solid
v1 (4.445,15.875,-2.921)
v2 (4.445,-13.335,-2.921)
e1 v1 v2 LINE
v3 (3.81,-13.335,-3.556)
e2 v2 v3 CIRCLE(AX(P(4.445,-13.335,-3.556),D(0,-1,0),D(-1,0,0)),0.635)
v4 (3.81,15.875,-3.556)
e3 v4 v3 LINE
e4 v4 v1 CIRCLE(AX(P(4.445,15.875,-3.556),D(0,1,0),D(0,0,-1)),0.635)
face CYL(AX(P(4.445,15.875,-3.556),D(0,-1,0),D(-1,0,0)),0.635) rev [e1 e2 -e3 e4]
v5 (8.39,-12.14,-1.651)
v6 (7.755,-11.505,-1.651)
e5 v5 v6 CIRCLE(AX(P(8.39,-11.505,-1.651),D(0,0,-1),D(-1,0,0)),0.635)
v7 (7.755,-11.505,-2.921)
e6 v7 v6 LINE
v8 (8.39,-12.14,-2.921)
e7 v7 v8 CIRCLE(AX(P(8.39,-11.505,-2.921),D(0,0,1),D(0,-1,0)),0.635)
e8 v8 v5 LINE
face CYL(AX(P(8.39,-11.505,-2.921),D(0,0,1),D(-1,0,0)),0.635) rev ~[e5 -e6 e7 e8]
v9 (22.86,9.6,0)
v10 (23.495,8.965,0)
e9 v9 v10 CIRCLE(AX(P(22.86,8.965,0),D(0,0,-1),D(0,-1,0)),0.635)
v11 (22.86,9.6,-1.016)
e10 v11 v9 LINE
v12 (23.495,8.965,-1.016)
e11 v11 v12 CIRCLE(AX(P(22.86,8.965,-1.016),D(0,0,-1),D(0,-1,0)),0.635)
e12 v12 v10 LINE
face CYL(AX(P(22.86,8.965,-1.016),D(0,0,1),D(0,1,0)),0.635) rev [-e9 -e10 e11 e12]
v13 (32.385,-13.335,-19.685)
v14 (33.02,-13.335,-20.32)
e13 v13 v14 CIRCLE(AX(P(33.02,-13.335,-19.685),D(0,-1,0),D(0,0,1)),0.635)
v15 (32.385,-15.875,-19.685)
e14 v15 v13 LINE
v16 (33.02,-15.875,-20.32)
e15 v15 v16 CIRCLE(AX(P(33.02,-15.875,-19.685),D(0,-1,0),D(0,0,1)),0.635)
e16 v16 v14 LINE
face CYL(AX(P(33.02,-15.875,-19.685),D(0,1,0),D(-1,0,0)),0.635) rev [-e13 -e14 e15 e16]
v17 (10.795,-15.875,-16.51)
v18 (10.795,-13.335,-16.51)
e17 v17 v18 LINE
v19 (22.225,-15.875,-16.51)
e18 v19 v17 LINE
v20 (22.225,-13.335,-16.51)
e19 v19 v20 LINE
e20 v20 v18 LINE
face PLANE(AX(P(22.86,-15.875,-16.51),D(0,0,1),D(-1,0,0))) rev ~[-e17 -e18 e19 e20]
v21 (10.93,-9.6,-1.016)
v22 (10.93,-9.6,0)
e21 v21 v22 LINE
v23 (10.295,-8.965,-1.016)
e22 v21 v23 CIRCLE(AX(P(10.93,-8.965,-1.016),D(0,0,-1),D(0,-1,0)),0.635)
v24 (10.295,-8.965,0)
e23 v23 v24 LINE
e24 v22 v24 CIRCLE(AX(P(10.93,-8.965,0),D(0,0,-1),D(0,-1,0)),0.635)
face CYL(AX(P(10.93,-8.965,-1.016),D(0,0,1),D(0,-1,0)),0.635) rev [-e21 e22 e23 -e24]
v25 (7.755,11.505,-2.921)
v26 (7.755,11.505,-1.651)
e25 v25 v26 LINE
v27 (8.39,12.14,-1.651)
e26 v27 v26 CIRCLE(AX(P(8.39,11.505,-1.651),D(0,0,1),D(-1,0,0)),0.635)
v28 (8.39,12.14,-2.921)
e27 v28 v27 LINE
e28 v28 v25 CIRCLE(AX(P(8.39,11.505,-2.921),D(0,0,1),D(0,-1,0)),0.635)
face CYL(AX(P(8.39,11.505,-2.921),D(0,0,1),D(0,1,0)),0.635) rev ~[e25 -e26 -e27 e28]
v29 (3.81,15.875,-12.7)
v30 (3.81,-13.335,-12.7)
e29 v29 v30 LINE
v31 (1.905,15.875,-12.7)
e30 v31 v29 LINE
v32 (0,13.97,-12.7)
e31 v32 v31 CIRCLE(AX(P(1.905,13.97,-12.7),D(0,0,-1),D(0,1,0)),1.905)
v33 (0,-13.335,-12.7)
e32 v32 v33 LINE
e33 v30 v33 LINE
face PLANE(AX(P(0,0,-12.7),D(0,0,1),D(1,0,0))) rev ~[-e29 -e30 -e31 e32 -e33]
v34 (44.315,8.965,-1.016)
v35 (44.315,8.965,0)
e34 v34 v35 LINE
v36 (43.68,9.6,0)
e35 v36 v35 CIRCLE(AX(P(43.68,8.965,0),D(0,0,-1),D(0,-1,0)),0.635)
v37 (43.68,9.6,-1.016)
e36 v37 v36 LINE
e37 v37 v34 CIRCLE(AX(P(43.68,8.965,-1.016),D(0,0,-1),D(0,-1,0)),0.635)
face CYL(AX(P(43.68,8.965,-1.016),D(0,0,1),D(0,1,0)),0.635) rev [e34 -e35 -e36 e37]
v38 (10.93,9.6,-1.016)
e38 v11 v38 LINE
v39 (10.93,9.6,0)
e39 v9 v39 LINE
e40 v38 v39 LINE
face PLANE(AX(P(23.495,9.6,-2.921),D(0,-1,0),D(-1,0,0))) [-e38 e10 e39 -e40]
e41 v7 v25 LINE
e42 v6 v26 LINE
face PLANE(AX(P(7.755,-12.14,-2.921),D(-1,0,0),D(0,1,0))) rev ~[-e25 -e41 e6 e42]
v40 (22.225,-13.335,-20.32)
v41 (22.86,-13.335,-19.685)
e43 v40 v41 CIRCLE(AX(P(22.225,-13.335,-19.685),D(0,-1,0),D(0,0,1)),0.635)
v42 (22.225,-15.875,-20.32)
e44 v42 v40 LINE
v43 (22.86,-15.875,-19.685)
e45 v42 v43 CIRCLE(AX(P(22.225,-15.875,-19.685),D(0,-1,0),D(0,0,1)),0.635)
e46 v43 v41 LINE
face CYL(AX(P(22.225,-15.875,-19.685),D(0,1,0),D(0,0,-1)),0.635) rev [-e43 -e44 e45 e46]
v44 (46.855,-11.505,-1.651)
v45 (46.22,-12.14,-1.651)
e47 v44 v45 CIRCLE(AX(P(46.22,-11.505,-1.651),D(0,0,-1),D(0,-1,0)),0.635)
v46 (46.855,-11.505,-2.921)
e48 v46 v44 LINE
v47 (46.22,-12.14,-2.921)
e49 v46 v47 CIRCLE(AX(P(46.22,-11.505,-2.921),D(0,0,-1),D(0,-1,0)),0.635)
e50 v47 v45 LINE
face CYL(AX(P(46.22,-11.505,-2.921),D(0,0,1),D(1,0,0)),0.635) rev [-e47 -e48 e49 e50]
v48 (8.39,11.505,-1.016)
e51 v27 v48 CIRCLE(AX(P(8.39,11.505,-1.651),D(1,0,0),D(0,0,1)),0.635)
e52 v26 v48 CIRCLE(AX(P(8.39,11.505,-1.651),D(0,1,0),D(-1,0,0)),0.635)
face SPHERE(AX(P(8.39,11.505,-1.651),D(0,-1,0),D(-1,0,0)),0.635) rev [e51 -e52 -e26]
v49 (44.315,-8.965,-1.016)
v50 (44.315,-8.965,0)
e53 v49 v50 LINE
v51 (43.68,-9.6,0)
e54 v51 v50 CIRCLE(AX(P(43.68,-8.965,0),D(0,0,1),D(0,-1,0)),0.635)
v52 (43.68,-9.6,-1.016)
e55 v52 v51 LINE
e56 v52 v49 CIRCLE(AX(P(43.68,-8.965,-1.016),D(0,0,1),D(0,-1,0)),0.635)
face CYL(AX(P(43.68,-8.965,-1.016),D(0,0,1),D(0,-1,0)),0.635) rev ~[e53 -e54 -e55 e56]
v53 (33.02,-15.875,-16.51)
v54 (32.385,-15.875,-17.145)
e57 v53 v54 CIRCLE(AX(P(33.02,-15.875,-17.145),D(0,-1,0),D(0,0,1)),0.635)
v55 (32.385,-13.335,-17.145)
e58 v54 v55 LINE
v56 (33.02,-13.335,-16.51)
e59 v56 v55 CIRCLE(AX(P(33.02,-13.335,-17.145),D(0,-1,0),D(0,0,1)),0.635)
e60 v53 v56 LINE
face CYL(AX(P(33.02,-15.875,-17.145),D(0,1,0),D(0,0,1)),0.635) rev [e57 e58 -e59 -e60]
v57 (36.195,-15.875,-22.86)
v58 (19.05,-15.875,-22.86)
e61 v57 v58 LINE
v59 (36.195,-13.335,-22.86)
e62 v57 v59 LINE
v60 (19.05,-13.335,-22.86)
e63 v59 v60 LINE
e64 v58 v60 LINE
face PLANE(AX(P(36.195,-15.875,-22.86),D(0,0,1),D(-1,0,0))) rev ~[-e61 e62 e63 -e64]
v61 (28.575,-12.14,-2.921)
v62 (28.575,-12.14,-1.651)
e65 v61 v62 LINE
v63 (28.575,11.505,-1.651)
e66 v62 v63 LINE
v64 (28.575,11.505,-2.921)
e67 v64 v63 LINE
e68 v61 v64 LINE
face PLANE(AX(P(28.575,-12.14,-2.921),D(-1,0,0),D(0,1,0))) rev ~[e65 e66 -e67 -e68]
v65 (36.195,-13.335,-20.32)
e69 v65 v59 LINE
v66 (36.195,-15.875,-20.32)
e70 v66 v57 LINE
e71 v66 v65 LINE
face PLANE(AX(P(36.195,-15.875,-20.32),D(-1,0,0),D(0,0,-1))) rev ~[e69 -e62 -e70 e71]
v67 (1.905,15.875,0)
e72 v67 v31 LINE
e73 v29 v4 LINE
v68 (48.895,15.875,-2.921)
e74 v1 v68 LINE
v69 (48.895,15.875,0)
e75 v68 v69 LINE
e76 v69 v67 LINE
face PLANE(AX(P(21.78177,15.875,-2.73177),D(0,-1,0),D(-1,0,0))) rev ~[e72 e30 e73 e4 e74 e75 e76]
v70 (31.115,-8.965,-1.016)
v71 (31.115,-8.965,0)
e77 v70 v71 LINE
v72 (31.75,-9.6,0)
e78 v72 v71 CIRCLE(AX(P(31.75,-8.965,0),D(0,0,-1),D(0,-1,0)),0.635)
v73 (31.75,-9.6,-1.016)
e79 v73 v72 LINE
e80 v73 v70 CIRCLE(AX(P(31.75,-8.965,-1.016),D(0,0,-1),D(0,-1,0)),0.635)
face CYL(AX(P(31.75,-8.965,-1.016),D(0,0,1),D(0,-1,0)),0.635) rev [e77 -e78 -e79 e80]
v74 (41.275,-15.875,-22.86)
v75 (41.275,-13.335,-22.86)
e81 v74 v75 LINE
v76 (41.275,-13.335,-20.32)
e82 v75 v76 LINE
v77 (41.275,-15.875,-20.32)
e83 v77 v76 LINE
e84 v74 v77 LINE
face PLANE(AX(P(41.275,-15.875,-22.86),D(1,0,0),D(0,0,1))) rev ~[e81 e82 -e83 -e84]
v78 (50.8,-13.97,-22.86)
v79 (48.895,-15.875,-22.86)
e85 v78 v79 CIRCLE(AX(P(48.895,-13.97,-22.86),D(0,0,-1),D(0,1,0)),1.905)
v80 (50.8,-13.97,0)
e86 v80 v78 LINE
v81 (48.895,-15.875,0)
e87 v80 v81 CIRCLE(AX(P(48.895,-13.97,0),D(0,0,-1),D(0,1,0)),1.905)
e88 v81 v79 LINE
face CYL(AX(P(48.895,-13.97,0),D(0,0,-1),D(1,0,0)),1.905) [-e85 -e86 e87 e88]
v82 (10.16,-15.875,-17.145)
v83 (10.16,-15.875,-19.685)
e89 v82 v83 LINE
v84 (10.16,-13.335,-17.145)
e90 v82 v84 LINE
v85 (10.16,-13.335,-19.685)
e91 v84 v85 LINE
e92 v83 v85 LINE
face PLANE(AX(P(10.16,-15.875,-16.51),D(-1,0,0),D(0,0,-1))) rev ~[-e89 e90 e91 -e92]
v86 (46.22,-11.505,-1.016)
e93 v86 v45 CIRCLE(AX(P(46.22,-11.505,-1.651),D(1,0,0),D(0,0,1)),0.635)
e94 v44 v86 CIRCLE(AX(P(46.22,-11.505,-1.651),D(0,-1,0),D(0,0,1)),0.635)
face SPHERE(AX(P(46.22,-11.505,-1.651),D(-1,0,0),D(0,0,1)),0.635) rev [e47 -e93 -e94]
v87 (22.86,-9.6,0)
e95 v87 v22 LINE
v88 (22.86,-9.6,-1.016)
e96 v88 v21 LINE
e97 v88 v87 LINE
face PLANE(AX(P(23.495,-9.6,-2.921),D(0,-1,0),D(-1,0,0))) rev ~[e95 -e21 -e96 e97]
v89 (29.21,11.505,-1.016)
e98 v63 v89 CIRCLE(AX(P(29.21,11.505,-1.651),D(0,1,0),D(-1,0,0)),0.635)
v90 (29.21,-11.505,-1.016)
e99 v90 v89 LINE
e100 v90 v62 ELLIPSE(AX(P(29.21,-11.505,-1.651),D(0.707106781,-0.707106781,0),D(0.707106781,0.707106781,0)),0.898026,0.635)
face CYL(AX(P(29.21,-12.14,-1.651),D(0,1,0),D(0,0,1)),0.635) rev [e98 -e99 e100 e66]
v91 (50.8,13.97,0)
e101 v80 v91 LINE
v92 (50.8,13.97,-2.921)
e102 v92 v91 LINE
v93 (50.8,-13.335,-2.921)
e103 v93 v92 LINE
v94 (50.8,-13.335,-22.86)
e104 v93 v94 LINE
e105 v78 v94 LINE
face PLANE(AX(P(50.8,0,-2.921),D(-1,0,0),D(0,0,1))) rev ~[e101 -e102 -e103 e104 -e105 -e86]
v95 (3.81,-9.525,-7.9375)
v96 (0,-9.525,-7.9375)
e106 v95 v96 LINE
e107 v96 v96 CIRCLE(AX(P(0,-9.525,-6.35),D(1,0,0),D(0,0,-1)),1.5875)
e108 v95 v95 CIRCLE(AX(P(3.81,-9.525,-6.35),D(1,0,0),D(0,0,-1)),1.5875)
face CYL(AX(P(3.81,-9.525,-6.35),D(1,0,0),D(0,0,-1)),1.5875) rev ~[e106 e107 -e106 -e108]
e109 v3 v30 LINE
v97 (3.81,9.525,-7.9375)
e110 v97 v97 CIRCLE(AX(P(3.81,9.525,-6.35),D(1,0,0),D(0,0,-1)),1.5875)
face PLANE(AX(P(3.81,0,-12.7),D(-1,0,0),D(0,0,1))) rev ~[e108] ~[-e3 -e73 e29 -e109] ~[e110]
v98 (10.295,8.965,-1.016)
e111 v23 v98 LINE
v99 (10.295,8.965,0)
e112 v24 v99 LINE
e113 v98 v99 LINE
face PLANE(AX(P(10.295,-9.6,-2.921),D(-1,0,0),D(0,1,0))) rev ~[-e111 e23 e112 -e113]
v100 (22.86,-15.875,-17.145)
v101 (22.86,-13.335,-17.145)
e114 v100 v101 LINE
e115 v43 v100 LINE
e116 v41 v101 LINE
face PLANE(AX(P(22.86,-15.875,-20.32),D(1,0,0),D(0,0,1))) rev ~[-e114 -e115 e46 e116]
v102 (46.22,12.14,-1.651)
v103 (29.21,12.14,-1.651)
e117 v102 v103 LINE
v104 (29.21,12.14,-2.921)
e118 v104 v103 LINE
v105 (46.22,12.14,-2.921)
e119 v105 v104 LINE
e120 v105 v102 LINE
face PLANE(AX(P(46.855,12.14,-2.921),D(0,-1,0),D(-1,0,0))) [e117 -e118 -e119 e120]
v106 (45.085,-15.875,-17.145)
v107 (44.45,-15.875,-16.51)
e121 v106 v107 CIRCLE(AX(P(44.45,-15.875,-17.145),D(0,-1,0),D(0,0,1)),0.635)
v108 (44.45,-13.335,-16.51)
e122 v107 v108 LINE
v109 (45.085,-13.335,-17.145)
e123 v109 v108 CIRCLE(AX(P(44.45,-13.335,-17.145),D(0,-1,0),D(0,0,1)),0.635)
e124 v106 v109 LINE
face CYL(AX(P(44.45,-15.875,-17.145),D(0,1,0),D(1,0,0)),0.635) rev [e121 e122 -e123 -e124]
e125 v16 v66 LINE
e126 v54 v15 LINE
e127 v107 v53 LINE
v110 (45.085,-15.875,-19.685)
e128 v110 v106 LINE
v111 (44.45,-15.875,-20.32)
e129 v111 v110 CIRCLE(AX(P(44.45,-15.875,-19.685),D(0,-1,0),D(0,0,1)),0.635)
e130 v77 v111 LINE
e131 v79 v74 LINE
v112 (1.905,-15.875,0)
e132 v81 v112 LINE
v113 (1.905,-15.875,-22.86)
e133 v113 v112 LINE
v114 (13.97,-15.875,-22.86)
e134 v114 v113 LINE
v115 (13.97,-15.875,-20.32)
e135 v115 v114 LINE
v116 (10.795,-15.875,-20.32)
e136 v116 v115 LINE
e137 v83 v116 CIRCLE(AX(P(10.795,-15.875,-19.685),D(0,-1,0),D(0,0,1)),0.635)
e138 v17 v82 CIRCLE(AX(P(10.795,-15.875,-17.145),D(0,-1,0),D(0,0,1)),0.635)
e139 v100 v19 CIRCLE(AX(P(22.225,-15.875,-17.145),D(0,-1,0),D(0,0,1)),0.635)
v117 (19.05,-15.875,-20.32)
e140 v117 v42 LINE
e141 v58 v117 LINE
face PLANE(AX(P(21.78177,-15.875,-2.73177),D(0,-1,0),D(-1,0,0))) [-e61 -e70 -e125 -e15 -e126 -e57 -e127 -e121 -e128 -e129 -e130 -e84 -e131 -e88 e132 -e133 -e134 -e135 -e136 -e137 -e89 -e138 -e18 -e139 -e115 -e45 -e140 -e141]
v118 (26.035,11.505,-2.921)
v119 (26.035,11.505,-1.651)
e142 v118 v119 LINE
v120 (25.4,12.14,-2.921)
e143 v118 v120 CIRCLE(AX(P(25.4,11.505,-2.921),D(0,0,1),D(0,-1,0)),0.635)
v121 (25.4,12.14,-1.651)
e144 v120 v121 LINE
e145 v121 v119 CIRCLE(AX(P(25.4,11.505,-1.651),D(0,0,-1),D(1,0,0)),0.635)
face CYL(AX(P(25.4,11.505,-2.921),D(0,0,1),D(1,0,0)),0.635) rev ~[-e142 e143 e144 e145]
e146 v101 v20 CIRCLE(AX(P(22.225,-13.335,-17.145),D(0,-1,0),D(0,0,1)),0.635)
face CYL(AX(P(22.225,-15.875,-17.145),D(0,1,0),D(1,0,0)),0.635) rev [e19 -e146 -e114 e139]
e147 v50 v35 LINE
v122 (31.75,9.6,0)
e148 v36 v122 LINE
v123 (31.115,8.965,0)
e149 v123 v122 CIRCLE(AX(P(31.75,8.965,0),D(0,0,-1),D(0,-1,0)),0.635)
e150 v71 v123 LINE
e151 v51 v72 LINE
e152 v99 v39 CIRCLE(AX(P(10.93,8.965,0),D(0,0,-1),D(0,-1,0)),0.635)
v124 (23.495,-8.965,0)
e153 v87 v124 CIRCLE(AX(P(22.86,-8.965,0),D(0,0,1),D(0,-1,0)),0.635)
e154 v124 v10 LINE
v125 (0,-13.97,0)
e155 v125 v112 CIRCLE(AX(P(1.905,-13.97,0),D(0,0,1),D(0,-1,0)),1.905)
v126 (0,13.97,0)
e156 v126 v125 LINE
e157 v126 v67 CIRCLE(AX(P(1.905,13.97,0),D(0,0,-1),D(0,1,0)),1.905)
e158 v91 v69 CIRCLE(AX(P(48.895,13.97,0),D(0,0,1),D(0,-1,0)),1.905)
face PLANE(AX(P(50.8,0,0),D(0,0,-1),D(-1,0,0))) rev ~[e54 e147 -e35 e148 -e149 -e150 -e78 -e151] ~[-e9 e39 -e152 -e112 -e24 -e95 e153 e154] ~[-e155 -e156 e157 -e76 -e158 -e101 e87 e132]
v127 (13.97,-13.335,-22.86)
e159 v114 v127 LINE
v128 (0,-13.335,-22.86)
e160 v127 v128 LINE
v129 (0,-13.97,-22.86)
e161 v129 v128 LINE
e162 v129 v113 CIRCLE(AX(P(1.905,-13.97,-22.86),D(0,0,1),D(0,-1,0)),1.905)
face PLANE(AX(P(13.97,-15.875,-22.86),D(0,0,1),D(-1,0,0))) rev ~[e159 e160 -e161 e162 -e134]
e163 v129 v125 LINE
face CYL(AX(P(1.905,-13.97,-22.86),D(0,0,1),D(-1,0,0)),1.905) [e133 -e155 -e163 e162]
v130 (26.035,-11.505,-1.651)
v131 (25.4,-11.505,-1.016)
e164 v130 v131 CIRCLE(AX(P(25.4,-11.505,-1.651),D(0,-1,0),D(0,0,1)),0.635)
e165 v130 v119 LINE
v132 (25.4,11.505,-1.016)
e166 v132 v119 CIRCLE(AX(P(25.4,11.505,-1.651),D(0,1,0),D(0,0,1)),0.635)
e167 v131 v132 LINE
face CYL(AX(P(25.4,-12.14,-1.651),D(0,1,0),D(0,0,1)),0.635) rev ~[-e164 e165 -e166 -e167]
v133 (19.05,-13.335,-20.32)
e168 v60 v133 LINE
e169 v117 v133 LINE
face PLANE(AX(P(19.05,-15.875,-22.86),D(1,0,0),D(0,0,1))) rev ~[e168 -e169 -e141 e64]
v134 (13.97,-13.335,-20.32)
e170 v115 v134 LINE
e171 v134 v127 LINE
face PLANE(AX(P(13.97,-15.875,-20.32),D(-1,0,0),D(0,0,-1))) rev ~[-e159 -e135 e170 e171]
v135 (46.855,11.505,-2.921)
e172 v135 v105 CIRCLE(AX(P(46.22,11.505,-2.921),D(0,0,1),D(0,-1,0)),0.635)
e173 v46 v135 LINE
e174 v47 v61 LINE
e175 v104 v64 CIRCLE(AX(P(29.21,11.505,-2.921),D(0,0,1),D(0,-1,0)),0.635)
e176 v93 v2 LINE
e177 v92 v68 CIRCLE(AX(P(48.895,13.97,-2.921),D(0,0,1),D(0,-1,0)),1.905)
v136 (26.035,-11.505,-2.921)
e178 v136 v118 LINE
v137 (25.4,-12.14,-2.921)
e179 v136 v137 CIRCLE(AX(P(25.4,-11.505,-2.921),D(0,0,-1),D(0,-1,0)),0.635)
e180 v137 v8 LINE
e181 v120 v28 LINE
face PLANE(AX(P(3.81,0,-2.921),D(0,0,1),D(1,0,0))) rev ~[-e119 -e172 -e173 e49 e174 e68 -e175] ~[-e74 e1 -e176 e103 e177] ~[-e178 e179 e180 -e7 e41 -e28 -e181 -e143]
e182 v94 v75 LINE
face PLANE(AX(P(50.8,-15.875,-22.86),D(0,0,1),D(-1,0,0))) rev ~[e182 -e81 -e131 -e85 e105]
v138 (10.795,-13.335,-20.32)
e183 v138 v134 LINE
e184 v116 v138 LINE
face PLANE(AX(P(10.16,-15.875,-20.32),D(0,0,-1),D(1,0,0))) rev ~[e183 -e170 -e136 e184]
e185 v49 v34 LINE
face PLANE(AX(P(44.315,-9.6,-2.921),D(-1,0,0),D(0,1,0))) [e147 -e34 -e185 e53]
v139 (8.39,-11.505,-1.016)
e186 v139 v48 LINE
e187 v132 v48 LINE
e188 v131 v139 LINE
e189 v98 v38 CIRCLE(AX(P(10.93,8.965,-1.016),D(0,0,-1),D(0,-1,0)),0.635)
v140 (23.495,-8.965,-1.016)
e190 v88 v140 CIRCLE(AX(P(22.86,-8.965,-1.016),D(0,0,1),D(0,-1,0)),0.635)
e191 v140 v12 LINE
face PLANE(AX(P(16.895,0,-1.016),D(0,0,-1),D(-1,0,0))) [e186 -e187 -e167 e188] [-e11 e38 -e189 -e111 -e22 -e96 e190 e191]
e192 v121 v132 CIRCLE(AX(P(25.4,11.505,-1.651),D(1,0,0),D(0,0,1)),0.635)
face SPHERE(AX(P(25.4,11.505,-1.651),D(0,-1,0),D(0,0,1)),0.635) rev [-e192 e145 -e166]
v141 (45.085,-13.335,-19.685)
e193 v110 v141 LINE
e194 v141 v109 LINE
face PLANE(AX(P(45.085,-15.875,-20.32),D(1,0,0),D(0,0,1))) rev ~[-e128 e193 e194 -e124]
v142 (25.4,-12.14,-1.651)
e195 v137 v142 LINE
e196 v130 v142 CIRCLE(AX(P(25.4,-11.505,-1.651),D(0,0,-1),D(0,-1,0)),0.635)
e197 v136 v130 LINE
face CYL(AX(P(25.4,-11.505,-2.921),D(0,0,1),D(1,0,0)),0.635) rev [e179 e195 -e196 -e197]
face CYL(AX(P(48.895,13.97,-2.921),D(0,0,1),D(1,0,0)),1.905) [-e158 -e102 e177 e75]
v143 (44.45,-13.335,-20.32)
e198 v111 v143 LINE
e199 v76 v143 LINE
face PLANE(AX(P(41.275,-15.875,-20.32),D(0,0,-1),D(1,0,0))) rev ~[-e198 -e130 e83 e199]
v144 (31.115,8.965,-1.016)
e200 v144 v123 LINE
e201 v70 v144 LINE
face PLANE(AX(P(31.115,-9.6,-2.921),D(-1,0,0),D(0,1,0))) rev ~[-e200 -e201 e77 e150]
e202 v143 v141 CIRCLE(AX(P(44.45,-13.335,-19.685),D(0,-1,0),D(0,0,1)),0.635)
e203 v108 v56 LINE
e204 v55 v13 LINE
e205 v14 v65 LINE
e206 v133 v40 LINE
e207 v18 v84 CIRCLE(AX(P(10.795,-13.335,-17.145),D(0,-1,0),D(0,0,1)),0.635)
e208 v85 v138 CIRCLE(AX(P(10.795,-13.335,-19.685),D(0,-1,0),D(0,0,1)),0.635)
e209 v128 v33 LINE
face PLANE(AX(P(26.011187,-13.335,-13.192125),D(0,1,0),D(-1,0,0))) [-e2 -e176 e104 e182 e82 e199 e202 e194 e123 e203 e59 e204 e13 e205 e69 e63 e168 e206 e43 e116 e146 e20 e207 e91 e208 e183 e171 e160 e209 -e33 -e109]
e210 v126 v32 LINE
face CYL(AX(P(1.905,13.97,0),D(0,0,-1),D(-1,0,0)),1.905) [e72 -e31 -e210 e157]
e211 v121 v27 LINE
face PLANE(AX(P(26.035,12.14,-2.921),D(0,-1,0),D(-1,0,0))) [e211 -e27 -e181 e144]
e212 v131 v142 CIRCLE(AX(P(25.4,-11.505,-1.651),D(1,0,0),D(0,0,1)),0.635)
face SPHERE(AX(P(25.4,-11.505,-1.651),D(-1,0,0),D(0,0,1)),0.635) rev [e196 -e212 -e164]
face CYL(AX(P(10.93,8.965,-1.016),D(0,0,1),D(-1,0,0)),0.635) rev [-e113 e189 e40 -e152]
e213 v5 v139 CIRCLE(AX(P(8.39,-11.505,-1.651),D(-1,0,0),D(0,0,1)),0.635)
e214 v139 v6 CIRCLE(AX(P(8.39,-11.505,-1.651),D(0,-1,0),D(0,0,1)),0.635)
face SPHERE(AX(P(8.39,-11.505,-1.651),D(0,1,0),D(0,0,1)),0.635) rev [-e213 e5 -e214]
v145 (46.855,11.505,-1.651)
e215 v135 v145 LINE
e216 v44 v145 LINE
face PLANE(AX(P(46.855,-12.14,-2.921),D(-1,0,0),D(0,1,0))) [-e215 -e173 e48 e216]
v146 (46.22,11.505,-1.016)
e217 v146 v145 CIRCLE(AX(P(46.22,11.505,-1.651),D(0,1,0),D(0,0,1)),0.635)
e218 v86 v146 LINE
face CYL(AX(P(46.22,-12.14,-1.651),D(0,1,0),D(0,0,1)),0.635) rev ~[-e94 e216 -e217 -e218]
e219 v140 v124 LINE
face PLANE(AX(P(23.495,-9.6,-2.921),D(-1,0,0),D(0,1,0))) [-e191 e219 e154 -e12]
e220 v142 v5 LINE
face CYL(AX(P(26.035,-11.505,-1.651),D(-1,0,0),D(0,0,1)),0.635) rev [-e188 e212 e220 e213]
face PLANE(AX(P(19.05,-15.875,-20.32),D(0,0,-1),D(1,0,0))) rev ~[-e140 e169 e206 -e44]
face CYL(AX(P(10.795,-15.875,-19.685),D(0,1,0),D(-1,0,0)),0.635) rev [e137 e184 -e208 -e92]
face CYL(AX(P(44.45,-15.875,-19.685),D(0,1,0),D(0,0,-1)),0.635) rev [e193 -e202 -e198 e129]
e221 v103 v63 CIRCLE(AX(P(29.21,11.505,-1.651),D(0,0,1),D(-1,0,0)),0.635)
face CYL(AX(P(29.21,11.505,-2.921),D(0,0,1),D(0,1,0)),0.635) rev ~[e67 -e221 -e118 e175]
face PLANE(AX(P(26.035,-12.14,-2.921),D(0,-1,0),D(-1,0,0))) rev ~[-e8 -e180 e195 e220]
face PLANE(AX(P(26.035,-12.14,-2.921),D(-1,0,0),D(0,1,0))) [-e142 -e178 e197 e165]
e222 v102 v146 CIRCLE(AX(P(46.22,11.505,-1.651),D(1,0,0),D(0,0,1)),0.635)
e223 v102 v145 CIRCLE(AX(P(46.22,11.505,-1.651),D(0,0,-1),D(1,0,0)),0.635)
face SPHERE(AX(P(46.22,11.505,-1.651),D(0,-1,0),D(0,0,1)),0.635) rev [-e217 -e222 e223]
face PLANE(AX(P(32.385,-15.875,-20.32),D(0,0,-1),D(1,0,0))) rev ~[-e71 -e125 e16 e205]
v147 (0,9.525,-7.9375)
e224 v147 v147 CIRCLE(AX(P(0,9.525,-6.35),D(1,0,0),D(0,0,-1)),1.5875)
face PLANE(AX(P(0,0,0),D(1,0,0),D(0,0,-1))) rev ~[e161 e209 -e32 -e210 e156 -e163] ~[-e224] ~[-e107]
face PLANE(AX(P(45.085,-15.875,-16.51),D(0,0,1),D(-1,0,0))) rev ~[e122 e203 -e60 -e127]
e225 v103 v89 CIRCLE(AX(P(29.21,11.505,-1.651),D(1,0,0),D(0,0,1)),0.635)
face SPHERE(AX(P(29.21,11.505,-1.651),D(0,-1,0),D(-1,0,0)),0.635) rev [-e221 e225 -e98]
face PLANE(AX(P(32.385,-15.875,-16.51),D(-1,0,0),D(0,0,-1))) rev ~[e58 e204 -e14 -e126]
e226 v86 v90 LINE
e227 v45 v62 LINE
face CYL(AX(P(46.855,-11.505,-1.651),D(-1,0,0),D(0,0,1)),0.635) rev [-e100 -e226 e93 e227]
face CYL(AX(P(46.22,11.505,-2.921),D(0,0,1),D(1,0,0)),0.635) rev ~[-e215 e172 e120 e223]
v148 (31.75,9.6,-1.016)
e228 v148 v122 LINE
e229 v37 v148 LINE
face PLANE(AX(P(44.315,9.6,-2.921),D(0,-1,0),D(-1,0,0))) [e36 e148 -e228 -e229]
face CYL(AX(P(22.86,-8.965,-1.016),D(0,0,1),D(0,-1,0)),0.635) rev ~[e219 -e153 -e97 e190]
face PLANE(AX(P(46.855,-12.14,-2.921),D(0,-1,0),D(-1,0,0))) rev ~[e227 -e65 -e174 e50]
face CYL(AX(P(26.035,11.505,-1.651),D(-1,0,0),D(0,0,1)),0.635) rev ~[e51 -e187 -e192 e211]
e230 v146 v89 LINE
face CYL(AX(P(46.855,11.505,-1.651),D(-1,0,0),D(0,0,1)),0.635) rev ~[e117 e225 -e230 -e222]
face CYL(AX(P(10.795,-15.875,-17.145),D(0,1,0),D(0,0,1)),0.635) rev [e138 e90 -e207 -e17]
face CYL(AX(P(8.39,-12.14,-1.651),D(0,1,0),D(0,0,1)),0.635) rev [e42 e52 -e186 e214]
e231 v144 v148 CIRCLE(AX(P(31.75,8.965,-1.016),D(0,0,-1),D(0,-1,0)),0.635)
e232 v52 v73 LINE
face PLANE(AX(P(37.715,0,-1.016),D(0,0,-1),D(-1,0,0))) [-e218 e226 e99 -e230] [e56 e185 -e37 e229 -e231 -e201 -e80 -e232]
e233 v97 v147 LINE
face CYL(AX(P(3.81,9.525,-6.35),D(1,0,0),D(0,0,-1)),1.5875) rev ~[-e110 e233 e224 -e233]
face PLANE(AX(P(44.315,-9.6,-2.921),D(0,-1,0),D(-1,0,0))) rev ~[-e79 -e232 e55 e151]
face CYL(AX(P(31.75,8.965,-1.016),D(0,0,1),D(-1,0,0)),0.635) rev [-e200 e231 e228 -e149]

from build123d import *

# Parameters (mm, degrees)
BOSS_EXTRUDE1_DEPTH  = 15.875
SKETCH2_R            = 1.5875
MOUNTING_HOLES_DEPTH = 52.199274653
SKETCH3_W            = 13.2
SKETCH3_H            = 19.2
CUT_EXTRUDE2_DEPTH   = 55.113625512
SKETCH4_W            = 18.28
SKETCH4_H            = 24.28
SKETCH4_W_2          = 13.2
SKETCH4_H_2          = 19.2
CUT_EXTRUDE3_DEPTH   = 1.905
FILLET2_R            = 0.635
FILLET3_R            = 0.635
BOSS_EXTRUDE3_DEPTH  = 2.54
FILLET4_R            = 0.635
FILLET5_R            = 1.905


with BuildPart() as part:
    # Sketch1 → Boss-Extrude1 (new, symmetric)
    with BuildSketch(Plane(origin=(0, 0, 0), x_dir=(1, 0, 0), z_dir=(0, 1, 0))):
        Polygon((0, 0), (0, 12.7), (3.81, 12.7), (3.81, 2.921), (50.8, 2.921), (50.8, 0), align=None)
    extrude(amount=BOSS_EXTRUDE1_DEPTH, both=True)

    # Sketch2 → Mounting_Holes (cut, through all)
    with BuildSketch(Plane(origin=(3.81, 0, 0), x_dir=(0, 0, -1), z_dir=(1, 0, 0))):
        with Locations((6.35, 9.525)):
            Circle(SKETCH2_R)
        with Locations((6.35, -9.525)):
            Circle(SKETCH2_R)
    extrude(amount=-MOUNTING_HOLES_DEPTH, mode=Mode.SUBTRACT)

    # Sketch3 → Cut-Extrude2 (cut, through all)
    with BuildSketch(Plane(origin=(0, 0, -2.921), x_dir=(-1, 0, 0), z_dir=(0, 0, -1))):
        with Locations((-37.715, 0)):
            Rectangle(SKETCH3_W, SKETCH3_H)
        with Locations((-16.895, 0)):
            Rectangle(SKETCH3_W, SKETCH3_H)
    extrude(amount=-CUT_EXTRUDE2_DEPTH, mode=Mode.SUBTRACT)

    # Sketch4 → Cut-Extrude3 (cut)
    # profile 1 of 2: a face of its own
    with BuildSketch(Plane(origin=(0, 0, -2.921), x_dir=(-1, 0, 0), z_dir=(0, 0, -1))):
        with Locations((-37.715, 0)):
            Rectangle(SKETCH4_W, SKETCH4_H)
        with Locations((-37.715, 0)):
            Rectangle(SKETCH4_W_2, SKETCH4_H_2, mode=Mode.SUBTRACT)
    # profile 2 of 2: a face of its own
    with BuildSketch(Plane(origin=(0, 0, -2.921), x_dir=(-1, 0, 0), z_dir=(0, 0, -1))):
        with Locations((-16.895, 0)):
            Rectangle(SKETCH4_W, SKETCH4_H)
        with Locations((-16.895, 0)):
            Rectangle(SKETCH4_W_2, SKETCH4_H_2, mode=Mode.SUBTRACT)
    extrude(amount=-CUT_EXTRUDE3_DEPTH, mode=Mode.SUBTRACT)

    # Fillet2
    fillet2_edges = [part.edges().sort_by_distance(p)[0] for p in [
        (3.81, 0, -2.921),
        (23.495, -9.6, -0.508),
        (23.495, 9.6, -0.508),
        (10.295, 9.6, -0.508),
        (10.295, -9.6, -0.508),
        (44.315, 9.6, -0.508),
        (31.115, 9.6, -0.508),
        (31.115, -9.6, -0.508),
        (44.315, -9.6, -0.508),
    ]]
    fillet(fillet2_edges, radius=FILLET2_R)

    # Fillet3
    fillet3_edges = [part.edges().sort_by_distance(p)[0] for p in [
        (28.575, 0, -1.016),
        (28.575, 12.14, -1.9685),
        (37.715, -12.14, -1.016),
        (46.855, 0, -1.016),
        (46.855, -12.14, -1.9685),
        (37.715, 12.14, -1.016),
        (46.855, 12.14, -1.9685),
        (7.755, 0, -1.016),
        (7.755, 12.14, -1.9685),
        (16.895, -12.14, -1.016),
        (7.755, -12.14, -1.9685),
        (26.035, 0, -1.016),
        (26.035, -12.14, -1.9685),
        (16.895, 12.14, -1.016),
        (26.035, 12.14, -1.9685),
    ]]
    fillet(fillet3_edges, radius=FILLET3_R)

    # Sketch5 → Boss-Extrude3 (add)
    with BuildSketch(Plane.XZ.offset(15.875)):
        Polygon((50.8, 0), (50.8, -22.86), (41.275, -22.86), (41.275, -20.32), (45.085, -20.32), (45.085, -16.51), (32.385, -16.51), (32.385, -20.32), (36.195, -20.32), (36.195, -22.86), (19.05, -22.86), (19.05, -20.32), (22.86, -20.32), (22.86, -16.51), (10.16, -16.51), (10.16, -20.32), (13.97, -20.32), (13.97, -22.86), (0, -22.86), (0, 0), align=None)
    extrude(amount=-BOSS_EXTRUDE3_DEPTH)

    # Fillet4
    fillet4_edges = [part.edges().sort_by_distance(p)[0] for p in [
        (45.085, -14.605, -20.32),
        (45.085, -14.605, -16.51),
        (32.385, -14.605, -16.51),
        (32.385, -14.605, -20.32),
        (22.86, -14.605, -20.32),
        (22.86, -14.605, -16.51),
        (10.16, -14.605, -16.51),
        (10.16, -14.605, -20.32),
    ]]
    fillet(fillet4_edges, radius=FILLET4_R)

    # Fillet5
    fillet5_edges = [part.edges().sort_by_distance(p)[0] for p in [
        (0, 15.875, -6.35),
        (0, -15.875, -11.43),
        (50.8, -15.875, -11.43),
        (50.8, 15.875, -1.4605),
    ]]
    fillet(fillet5_edges, radius=FILLET5_R)


solid = part.part
